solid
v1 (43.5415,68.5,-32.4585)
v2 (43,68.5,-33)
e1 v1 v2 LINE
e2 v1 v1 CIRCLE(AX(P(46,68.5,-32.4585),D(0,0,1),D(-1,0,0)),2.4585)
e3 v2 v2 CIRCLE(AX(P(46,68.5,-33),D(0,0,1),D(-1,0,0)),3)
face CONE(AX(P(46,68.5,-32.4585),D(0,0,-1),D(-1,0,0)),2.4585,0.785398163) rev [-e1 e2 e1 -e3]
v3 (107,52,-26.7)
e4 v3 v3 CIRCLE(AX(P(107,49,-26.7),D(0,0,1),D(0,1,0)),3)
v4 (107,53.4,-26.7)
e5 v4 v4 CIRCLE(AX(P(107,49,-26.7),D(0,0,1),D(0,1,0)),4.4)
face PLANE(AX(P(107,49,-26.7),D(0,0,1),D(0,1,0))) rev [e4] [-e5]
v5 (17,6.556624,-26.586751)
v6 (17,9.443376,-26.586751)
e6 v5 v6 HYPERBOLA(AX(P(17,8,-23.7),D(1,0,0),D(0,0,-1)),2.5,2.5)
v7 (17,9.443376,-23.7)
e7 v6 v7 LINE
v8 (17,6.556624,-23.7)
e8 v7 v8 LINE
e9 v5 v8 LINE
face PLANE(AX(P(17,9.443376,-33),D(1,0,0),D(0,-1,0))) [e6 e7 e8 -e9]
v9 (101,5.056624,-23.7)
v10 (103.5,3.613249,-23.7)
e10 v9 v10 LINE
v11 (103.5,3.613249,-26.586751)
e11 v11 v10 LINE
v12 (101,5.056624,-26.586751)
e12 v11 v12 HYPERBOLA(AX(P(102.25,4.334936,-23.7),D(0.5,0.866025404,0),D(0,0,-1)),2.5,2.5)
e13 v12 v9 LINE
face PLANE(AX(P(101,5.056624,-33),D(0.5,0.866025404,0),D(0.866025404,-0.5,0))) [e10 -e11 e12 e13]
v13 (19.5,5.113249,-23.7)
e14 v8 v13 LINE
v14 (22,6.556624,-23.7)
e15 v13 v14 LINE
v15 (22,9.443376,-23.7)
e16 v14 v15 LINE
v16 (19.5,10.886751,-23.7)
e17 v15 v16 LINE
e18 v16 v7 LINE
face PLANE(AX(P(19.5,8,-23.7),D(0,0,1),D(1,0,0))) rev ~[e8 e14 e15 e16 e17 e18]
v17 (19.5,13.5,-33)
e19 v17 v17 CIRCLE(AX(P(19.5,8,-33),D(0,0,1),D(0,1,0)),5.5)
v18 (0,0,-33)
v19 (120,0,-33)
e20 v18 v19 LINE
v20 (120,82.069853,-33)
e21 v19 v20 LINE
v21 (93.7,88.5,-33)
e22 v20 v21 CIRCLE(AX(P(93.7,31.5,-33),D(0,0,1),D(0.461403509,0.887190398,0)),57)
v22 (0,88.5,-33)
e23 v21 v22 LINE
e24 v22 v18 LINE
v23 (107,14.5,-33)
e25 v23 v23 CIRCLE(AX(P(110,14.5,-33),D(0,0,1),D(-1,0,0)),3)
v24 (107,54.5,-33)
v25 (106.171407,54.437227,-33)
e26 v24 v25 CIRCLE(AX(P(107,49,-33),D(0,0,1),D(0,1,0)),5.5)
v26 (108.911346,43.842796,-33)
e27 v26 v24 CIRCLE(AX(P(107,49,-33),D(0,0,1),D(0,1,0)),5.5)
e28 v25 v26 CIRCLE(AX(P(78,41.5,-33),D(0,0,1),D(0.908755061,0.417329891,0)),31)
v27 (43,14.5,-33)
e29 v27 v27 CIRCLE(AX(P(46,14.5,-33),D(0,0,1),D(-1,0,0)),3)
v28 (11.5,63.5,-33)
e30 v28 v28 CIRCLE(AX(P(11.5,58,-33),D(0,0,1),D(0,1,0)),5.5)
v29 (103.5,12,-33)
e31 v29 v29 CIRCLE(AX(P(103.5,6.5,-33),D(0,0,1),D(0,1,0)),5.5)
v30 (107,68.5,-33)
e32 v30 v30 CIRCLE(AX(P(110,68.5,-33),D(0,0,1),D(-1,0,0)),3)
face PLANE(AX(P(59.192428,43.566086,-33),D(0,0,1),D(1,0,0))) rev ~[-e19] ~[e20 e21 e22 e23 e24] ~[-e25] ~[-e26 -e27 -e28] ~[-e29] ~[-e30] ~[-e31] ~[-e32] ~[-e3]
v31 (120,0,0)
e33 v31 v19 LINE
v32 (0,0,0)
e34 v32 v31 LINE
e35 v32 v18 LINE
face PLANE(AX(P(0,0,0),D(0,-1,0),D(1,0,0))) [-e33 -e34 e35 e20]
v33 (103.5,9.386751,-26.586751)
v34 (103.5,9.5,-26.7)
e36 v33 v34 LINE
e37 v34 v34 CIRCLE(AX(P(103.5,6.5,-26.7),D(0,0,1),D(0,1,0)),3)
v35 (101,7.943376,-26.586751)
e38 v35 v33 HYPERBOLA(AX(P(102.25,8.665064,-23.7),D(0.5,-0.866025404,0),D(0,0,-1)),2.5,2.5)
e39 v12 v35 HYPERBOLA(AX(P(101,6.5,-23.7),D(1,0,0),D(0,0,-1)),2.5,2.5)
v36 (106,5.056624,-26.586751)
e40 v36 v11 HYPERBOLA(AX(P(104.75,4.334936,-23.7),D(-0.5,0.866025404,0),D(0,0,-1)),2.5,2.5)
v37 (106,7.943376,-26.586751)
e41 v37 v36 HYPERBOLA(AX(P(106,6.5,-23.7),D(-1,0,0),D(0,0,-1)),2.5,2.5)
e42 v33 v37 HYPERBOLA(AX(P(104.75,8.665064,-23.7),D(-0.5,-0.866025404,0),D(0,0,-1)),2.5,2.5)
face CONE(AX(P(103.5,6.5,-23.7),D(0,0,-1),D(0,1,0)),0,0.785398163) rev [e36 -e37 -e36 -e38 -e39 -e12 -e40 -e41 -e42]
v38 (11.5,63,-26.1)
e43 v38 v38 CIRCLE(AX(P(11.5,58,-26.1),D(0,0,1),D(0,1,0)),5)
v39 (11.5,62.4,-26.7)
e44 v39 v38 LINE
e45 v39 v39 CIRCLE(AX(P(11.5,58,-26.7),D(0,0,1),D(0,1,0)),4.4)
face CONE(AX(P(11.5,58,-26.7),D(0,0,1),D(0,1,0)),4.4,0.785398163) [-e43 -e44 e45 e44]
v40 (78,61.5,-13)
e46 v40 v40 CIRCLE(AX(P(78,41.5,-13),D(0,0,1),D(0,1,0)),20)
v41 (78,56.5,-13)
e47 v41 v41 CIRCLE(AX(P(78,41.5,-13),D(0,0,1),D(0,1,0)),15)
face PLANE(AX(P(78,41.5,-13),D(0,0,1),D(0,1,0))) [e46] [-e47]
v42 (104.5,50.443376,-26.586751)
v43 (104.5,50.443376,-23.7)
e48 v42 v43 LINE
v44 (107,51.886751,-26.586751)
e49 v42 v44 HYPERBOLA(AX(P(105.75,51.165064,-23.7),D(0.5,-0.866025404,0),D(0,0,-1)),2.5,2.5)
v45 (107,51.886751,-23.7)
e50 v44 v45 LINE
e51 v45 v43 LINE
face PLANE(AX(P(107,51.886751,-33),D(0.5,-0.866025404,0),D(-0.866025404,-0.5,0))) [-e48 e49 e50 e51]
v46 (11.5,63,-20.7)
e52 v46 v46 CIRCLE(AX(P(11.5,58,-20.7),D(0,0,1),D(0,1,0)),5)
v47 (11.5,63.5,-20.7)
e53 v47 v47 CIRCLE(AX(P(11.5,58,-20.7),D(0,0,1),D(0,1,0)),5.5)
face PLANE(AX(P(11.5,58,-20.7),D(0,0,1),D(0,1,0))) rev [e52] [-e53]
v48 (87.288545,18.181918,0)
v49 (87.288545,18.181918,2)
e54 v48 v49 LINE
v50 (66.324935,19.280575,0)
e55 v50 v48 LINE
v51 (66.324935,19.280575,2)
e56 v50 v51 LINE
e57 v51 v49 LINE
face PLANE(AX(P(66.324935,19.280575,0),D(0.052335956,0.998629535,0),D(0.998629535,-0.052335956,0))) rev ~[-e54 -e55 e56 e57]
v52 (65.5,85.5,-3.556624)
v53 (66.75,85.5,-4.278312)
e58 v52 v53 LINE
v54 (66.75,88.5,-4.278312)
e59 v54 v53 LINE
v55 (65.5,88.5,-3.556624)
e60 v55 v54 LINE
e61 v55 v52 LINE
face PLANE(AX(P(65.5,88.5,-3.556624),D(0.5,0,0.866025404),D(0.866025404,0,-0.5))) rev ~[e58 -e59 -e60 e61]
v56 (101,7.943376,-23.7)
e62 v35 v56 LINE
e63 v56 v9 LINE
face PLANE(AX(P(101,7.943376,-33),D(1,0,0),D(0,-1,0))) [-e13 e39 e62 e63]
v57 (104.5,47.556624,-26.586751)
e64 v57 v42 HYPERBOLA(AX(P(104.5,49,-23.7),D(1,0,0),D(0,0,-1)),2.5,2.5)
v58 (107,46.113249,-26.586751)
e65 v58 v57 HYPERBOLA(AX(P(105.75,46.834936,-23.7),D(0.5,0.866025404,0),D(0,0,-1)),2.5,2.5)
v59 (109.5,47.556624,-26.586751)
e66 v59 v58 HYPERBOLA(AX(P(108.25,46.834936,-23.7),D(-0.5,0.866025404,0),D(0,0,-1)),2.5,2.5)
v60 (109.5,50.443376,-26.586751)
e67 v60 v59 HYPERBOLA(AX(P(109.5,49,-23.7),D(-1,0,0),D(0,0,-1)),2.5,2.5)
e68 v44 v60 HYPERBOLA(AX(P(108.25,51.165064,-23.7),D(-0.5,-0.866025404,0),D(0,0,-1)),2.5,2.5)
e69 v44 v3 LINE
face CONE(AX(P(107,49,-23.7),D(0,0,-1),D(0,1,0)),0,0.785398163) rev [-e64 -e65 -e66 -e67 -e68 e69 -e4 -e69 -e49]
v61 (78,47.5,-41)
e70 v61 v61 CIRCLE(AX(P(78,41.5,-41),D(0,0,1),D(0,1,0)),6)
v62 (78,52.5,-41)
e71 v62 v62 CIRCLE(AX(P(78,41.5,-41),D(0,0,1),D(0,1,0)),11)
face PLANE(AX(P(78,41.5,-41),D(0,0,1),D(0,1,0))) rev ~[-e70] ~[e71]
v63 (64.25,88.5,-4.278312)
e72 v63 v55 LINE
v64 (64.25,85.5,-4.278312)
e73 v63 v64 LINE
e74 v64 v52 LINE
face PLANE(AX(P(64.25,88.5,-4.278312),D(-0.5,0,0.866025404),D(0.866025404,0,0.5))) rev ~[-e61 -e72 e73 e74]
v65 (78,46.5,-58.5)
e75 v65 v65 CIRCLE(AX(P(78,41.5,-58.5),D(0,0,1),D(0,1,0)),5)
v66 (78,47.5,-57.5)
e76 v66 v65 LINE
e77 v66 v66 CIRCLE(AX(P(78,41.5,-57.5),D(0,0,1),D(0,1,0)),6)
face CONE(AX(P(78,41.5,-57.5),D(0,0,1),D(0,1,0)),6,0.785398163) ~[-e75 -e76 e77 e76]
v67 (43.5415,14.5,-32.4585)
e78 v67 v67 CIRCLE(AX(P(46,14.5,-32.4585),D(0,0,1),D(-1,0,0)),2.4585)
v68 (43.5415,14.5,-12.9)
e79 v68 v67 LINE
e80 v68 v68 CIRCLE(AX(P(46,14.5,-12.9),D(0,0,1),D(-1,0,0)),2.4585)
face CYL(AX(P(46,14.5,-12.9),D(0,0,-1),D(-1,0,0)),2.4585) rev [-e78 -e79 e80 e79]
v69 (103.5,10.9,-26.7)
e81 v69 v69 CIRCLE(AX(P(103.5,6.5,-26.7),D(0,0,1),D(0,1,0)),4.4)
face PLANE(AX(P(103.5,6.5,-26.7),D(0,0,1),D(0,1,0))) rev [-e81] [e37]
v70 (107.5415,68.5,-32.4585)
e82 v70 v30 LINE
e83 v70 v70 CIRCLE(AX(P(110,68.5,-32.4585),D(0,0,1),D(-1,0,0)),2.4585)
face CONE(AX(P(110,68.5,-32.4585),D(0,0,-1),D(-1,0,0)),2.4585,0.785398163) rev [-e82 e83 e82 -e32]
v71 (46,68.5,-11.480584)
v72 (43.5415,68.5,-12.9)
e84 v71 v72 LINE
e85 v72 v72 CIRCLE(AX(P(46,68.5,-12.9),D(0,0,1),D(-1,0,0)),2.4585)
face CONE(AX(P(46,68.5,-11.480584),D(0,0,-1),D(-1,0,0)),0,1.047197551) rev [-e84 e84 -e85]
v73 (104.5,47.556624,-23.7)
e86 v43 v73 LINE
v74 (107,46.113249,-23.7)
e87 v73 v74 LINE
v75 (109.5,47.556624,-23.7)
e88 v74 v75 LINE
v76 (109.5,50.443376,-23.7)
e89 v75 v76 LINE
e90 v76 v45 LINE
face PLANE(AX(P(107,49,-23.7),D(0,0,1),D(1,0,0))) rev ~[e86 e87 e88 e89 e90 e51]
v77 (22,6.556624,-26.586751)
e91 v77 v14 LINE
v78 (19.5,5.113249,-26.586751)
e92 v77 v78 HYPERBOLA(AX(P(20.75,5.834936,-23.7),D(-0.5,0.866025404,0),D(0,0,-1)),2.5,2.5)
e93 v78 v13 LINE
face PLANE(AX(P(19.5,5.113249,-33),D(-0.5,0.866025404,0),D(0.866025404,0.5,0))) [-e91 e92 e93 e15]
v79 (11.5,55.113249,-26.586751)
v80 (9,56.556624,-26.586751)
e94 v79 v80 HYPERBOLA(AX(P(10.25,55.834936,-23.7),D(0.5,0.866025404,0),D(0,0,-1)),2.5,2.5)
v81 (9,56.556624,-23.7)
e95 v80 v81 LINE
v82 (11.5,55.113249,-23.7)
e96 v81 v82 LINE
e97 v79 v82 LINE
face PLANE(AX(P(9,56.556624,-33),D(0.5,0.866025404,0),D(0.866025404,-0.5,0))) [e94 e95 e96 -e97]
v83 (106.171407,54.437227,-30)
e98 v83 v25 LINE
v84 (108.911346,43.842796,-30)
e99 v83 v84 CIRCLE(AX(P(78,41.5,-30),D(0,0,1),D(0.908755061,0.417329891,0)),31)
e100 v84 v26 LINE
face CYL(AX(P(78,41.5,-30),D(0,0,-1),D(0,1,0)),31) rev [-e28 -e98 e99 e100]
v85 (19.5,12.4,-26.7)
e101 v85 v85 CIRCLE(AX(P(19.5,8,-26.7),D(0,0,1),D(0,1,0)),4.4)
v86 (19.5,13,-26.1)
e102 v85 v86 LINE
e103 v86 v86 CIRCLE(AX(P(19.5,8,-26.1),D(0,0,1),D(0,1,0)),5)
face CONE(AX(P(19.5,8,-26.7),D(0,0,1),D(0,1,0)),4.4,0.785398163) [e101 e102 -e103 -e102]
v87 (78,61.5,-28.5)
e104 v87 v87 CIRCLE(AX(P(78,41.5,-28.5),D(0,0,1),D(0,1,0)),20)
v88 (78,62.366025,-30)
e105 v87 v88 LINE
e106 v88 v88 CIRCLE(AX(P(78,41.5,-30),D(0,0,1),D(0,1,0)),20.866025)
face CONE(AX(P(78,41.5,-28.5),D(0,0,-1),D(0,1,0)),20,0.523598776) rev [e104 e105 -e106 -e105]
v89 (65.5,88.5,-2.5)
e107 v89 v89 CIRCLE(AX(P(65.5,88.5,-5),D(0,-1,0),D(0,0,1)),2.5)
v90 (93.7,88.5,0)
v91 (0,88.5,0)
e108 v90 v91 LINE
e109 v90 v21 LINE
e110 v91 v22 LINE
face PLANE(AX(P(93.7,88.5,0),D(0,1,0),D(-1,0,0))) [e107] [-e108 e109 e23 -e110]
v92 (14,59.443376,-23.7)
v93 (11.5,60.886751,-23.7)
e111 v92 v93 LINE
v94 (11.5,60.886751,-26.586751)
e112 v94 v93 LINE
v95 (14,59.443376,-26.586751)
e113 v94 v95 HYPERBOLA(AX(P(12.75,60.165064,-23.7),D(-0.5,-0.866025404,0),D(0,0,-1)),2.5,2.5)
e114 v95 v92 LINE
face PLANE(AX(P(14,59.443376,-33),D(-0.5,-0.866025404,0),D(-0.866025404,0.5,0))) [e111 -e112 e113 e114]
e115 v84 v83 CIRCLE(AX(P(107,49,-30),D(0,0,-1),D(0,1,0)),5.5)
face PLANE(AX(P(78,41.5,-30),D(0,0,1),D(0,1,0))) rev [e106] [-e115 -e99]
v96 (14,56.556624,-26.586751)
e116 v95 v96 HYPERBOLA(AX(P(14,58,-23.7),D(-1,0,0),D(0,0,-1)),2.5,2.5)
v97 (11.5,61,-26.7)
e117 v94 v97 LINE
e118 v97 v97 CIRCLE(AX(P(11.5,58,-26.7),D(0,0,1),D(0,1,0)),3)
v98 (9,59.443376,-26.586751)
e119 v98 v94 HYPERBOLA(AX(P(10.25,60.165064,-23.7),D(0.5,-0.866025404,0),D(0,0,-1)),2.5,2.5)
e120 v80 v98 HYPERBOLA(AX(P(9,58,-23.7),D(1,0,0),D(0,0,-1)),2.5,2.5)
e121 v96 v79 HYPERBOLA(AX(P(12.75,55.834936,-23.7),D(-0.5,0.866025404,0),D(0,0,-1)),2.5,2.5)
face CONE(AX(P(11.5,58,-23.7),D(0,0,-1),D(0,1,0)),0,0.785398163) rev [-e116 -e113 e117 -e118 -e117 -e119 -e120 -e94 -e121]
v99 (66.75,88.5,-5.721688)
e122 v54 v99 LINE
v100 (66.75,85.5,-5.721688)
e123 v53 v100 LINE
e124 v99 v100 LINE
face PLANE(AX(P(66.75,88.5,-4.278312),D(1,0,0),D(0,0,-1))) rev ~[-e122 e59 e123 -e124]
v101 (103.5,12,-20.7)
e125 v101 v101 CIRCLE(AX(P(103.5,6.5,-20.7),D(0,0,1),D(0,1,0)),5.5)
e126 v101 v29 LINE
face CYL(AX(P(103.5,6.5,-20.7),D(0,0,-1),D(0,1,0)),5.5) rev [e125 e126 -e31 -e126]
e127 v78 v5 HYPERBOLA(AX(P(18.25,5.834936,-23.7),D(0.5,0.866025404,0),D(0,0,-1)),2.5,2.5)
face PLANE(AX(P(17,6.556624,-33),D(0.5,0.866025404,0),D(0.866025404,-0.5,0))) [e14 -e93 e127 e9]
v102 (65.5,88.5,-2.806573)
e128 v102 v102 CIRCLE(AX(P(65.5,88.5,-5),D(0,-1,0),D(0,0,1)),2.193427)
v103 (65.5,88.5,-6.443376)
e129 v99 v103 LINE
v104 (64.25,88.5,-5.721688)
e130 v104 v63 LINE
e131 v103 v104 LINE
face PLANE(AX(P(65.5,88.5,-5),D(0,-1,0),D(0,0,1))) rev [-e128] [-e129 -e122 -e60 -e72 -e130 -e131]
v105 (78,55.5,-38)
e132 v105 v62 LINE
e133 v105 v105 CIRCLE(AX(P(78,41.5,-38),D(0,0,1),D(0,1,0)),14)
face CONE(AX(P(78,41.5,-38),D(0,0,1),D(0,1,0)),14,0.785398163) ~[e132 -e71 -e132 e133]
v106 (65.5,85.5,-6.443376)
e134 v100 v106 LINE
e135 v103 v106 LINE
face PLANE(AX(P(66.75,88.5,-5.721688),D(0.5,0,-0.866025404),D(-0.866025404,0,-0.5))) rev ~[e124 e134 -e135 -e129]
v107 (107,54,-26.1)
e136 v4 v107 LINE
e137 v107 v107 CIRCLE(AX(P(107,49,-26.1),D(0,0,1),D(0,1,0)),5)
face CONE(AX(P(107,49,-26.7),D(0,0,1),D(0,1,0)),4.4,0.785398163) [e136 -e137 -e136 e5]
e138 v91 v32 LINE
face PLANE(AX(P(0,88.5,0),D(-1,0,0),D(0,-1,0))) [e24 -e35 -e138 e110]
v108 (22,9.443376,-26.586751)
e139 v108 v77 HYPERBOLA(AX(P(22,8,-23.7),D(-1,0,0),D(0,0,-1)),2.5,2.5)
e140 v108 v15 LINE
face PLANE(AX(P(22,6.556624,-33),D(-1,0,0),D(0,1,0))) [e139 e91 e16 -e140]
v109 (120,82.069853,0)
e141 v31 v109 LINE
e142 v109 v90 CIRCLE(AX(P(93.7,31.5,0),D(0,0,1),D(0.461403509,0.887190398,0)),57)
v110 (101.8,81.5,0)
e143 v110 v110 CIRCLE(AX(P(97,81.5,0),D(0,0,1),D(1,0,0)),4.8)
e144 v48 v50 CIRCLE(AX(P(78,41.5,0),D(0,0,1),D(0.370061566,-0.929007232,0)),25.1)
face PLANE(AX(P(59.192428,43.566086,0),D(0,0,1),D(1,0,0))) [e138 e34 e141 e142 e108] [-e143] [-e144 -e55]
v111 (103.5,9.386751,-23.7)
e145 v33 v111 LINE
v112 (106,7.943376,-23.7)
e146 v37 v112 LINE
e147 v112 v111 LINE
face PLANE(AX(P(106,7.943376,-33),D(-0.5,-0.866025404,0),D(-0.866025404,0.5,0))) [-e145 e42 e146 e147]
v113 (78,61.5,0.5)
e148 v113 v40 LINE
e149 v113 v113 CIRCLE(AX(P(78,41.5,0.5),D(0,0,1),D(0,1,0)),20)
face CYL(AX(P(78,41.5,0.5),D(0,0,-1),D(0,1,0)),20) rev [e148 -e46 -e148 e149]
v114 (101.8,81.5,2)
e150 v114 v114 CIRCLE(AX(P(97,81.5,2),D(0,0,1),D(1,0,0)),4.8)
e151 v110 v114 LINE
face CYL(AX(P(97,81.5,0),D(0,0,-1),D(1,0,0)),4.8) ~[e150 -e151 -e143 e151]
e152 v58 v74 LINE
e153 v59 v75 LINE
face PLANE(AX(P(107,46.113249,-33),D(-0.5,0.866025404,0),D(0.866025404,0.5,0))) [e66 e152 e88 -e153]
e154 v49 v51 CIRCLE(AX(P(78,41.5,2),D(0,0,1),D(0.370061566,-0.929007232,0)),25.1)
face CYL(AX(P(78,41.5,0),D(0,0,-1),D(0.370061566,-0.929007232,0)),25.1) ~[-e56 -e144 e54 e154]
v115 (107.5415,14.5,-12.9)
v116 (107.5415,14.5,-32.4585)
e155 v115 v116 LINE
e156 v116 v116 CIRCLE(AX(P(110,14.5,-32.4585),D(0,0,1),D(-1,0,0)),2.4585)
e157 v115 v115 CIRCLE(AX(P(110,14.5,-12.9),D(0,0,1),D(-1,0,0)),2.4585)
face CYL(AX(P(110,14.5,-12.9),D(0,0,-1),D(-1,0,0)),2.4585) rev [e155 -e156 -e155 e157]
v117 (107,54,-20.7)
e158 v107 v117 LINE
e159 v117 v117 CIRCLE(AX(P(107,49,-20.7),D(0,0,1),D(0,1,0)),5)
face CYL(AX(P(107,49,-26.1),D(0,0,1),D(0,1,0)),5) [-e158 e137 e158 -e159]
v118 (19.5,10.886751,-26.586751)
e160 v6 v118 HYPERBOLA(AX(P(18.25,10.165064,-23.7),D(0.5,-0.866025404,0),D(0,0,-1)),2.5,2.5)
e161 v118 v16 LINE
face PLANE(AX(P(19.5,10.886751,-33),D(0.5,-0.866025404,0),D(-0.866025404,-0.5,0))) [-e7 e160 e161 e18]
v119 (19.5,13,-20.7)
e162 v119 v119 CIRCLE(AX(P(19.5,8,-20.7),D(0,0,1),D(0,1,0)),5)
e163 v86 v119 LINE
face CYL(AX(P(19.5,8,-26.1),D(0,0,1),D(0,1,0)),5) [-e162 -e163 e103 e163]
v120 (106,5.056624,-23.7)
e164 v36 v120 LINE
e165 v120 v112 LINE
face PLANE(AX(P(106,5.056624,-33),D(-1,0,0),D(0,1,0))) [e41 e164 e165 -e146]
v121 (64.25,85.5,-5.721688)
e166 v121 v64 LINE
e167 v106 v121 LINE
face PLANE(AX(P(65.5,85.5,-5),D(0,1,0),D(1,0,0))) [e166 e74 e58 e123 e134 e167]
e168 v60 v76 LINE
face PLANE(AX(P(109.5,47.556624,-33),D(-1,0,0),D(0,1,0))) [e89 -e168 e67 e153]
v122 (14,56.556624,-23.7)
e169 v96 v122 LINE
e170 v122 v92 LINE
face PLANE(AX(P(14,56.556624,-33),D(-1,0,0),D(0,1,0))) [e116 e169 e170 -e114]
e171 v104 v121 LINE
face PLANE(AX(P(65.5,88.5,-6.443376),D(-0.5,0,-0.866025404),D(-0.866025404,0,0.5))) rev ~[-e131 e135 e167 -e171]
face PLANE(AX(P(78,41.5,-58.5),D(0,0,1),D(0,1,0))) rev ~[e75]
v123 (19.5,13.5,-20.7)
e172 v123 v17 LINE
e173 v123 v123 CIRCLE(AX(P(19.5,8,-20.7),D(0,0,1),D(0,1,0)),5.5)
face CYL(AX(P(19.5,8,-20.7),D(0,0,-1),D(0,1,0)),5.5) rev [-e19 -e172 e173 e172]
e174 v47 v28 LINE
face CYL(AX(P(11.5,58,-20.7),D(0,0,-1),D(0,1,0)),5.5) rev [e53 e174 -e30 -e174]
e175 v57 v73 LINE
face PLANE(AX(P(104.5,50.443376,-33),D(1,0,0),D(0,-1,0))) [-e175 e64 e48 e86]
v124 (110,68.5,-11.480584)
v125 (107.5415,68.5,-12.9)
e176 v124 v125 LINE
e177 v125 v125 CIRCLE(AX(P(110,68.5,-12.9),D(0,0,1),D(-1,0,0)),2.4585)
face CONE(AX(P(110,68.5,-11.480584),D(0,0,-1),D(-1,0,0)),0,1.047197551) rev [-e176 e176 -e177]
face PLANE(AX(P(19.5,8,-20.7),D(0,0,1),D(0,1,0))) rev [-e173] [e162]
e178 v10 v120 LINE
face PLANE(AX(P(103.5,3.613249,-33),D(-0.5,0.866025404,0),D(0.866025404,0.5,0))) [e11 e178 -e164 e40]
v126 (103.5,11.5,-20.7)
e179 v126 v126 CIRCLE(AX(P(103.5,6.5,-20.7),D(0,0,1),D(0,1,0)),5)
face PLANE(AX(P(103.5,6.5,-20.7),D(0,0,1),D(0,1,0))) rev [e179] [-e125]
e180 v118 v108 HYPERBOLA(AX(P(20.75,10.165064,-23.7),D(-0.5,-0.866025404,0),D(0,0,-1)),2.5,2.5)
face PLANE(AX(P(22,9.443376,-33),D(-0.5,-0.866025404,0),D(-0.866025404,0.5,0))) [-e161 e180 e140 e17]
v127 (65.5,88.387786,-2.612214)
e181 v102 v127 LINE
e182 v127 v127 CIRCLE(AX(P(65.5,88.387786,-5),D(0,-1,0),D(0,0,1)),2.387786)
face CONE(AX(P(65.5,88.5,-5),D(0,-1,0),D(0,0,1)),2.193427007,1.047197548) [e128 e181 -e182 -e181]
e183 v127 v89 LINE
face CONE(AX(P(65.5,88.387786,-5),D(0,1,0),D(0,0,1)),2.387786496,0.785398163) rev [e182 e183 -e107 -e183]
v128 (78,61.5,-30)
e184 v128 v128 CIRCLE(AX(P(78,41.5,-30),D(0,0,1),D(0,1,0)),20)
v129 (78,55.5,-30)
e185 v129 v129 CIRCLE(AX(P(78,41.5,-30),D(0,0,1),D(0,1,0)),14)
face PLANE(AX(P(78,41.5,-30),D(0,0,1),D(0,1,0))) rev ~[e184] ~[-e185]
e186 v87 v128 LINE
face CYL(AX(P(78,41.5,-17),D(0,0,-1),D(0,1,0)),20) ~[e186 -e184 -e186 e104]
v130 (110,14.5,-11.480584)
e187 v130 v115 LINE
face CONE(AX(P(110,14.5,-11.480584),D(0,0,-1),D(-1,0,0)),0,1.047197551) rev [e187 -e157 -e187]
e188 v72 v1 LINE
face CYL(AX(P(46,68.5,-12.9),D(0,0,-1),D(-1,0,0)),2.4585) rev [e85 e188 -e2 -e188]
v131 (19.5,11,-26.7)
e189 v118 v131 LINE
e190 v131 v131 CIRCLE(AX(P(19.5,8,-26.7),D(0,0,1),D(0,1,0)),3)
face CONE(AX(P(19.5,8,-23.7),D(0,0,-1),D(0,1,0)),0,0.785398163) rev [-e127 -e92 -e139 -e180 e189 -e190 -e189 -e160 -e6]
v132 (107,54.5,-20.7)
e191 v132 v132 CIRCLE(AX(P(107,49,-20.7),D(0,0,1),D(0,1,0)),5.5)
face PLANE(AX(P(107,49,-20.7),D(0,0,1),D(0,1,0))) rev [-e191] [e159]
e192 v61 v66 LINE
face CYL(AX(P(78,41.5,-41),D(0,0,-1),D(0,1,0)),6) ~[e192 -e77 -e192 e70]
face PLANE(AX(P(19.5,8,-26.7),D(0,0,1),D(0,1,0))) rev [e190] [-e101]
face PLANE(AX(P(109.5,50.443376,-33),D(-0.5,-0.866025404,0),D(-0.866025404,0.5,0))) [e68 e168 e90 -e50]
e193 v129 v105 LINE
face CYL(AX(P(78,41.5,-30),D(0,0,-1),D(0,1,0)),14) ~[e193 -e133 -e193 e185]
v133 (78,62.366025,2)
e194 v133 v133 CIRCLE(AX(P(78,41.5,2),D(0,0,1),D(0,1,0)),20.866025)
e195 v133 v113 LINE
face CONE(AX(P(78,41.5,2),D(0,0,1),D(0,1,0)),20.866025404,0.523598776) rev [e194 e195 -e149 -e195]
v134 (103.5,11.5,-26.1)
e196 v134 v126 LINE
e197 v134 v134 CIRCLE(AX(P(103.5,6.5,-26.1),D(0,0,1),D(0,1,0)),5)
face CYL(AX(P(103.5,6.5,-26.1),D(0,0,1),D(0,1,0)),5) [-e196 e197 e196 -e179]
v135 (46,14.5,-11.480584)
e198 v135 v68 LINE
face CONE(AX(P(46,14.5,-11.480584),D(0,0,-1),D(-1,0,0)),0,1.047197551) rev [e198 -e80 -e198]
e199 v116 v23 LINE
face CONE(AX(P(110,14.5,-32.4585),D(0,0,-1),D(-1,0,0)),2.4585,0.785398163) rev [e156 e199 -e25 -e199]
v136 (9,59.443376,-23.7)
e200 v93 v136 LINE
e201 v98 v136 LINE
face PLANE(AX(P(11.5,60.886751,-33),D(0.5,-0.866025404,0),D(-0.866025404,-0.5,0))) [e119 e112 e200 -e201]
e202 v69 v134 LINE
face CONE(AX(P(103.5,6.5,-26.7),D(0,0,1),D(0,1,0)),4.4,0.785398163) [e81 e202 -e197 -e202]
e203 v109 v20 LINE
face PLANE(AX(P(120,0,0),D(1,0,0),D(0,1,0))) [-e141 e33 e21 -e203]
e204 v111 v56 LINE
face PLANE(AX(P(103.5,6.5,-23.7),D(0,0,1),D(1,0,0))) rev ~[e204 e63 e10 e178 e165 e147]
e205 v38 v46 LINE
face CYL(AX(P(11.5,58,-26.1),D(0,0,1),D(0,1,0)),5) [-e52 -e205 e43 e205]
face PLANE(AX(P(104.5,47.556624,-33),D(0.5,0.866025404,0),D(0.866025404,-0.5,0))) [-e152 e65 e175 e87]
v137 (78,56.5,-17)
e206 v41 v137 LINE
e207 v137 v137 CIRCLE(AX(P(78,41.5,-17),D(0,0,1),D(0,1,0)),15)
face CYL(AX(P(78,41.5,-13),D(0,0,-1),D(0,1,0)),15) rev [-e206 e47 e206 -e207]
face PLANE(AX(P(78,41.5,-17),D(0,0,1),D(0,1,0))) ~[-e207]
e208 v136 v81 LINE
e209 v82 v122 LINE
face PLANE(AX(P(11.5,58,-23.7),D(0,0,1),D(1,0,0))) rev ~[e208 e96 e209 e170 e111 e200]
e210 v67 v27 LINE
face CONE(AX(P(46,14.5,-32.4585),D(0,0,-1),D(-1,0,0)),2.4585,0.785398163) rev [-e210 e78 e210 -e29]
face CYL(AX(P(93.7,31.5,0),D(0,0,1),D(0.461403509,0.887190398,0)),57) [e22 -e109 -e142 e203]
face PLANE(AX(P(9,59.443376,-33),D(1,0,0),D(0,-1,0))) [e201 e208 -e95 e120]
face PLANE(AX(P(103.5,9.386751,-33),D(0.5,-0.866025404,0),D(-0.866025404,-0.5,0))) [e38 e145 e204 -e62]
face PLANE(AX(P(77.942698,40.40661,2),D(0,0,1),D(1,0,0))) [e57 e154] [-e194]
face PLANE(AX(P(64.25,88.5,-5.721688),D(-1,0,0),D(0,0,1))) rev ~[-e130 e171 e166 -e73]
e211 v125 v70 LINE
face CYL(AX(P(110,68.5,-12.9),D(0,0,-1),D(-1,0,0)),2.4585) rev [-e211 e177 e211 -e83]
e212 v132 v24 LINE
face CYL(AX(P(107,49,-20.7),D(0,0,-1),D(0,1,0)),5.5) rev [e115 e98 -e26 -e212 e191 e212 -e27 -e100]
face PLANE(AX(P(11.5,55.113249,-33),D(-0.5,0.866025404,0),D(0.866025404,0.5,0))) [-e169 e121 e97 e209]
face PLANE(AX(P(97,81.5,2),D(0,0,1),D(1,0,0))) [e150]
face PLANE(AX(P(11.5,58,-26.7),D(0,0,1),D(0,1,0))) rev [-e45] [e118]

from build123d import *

# Parameters (mm, degrees)
BOSS_EXTRUDE1_DEPTH = 33
BOSS_EXTRUDE2_DEPTH = 2
CUT_EXTRUDE1_DEPTH  = 9.3
CUT_EXTRUDE2_DEPTH  = 9.3
CUT_EXTRUDE3_DEPTH  = 9.3
CUT_EXTRUDE4_DEPTH  = 9.3
SKETCH16_R          = 4.8
BOSS_EXTRUDE3_DEPTH = 2
CUT_EXTRUDE5_DEPTH  = 3


with BuildPart() as part:
    # Sketch1 → Boss-Extrude1 (new body)
    with BuildSketch(Plane.XY):
        with BuildLine():
            Line((0, 0), (120, 0))
            Line((120, 0), (120, 82.069852679))
            ThreePointArc((120, 82.069852679), (107.237326126, 86.869132207), (93.7, 88.5))
            Line((93.7, 88.5), (0, 88.5))
            Line((0, 88.5), (0, 0))
        make_face()
    extrude(amount=-BOSS_EXTRUDE1_DEPTH)

    # Sketch2 → Boss-Extrude2 (add)
    with BuildSketch(Plane.XY):
        with BuildLine():
            Line((66.324935076, 19.280574737), (87.288545319, 18.181918478))
            ThreePointArc((87.288545319, 18.181918478), (79.313632502, 66.565601322), (66.324935076, 19.280574737))
        make_face()
    extrude(amount=BOSS_EXTRUDE2_DEPTH)

    # Sketch3 → Cut-Revolve1 (revolve, cut)
    with BuildSketch(Plane(origin=(78, 0, 0), x_dir=(0, 0, -1), z_dir=(1, 0, 0))):
        Polygon((-2, 41.5), (-2, 62.366025404), (-0.5, 61.5), (13, 61.5), (13, 56.5), (17, 56.5), (17, 61.5), (28.5, 61.5), (30, 62.366025404), (30, 72.5), (33, 72.5), (33, 41.5), align=None)
    revolve(axis=Axis((78, 41.5, -33), (0, 0, 1)), mode=Mode.SUBTRACT)

    # Sketch4 → Cut-Revolve2 (revolve, cut)
    with BuildSketch(Plane(origin=(19.5, 0, 0), x_dir=(0, 0, -1), z_dir=(1, 0, 0))):
        Polygon((23.7, 8), (26.7, 11), (26.7, 12.4), (26.1, 13), (20.7, 13), (20.7, 13.5), (33, 13.5), (33, 8), align=None)
    revolve(axis=Axis((19.5, 8, -33), (0, 0, 1)), mode=Mode.SUBTRACT)

    # Sketch5 → Cut-Revolve3 (revolve, cut)
    with BuildSketch(Plane(origin=(103.5, 0, 0), x_dir=(0, 0, -1), z_dir=(1, 0, 0))):
        Polygon((23.7, 6.5), (26.7, 9.5), (26.7, 10.9), (26.1, 11.5), (20.7, 11.5), (20.7, 12), (33, 12), (33, 6.5), align=None)
    revolve(axis=Axis((103.5, 6.5, -33), (0, 0, 1)), mode=Mode.SUBTRACT)

    # Sketch6 → Cut-Revolve4 (revolve, cut)
    with BuildSketch(Plane(origin=(11.5, 0, 0), x_dir=(0, 0, -1), z_dir=(1, 0, 0))):
        Polygon((23.7, 58), (26.7, 61), (26.7, 62.4), (26.1, 63), (20.7, 63), (20.7, 63.5), (33, 63.5), (33, 58), align=None)
    revolve(axis=Axis((11.5, 58, -33), (0, 0, 1)), mode=Mode.SUBTRACT)

    # Sketch7 → Cut-Revolve5 (revolve, cut)
    with BuildSketch(Plane(origin=(107, 0, 0), x_dir=(0, 0, -1), z_dir=(1, 0, 0))):
        Polygon((23.7, 49), (26.7, 52), (26.7, 53.4), (26.1, 54), (20.7, 54), (20.7, 54.5), (33, 54.5), (33, 49), align=None)
    revolve(axis=Axis((107, 49, -33), (0, 0, 1)), mode=Mode.SUBTRACT)

    # Sketch8 → Cut-Extrude1 (cut)
    with BuildSketch(Plane.XY.offset(-33)):
        Polygon((17, 9.443375673), (17, 6.556624327), (19.5, 5.113248654), (22, 6.556624327), (22, 9.443375673), (19.5, 10.886751346), align=None)
    extrude(amount=CUT_EXTRUDE1_DEPTH, mode=Mode.SUBTRACT)

    # Sketch9 → Cut-Extrude2 (cut)
    with BuildSketch(Plane.XY.offset(-33)):
        Polygon((101, 7.943375673), (101, 5.056624327), (103.5, 3.613248654), (106, 5.056624327), (106, 7.943375673), (103.5, 9.386751346), align=None)
    extrude(amount=CUT_EXTRUDE2_DEPTH, mode=Mode.SUBTRACT)

    # Sketch10 → Cut-Extrude3 (cut)
    with BuildSketch(Plane.XY.offset(-33)):
        Polygon((9, 59.443375673), (9, 56.556624327), (11.5, 55.113248654), (14, 56.556624327), (14, 59.443375673), (11.5, 60.886751346), align=None)
    extrude(amount=CUT_EXTRUDE3_DEPTH, mode=Mode.SUBTRACT)

    # Sketch11 → Cut-Extrude4 (cut)
    with BuildSketch(Plane.XY.offset(-33)):
        Polygon((104.5, 50.443375673), (104.5, 47.556624327), (107, 46.113248654), (109.5, 47.556624327), (109.5, 50.443375673), (107, 51.886751346), align=None)
    extrude(amount=CUT_EXTRUDE4_DEPTH, mode=Mode.SUBTRACT)

    # Sketch12 → Cut-Revolve6 (revolve, cut)
    with BuildSketch(Plane(origin=(0, 14.5, 0), x_dir=(1, 0, 0), z_dir=(0, 1, 0))):
        Polygon((46, 11.480584363), (43.5415, 12.9), (43.5415, 32.4585), (43, 33), (46, 33), align=None)
    revolve(axis=Axis((46, 14.5, -33), (0, 0, 1)), mode=Mode.SUBTRACT)

    # Sketch13 → Cut-Revolve7 (revolve, cut)
    with BuildSketch(Plane(origin=(0, 14.5, 0), x_dir=(1, 0, 0), z_dir=(0, 1, 0))):
        Polygon((110, 11.480584363), (107.5415, 12.9), (107.5415, 32.4585), (107, 33), (110, 33), align=None)
    revolve(axis=Axis((110, 14.5, -33), (0, 0, 1)), mode=Mode.SUBTRACT)

    # Sketch14 → Cut-Revolve8 (revolve, cut)
    with BuildSketch(Plane(origin=(0, 68.5, 0), x_dir=(1, 0, 0), z_dir=(0, 1, 0))):
        Polygon((46, 11.480584363), (43.5415, 12.9), (43.5415, 32.4585), (43, 33), (46, 33), align=None)
    revolve(axis=Axis((46, 68.5, -33), (0, 0, 1)), mode=Mode.SUBTRACT)

    # Sketch15 → Cut-Revolve9 (revolve, cut)
    with BuildSketch(Plane(origin=(0, 68.5, 0), x_dir=(1, 0, 0), z_dir=(0, 1, 0))):
        Polygon((110, 11.480584363), (107.5415, 12.9), (107.5415, 32.4585), (107, 33), (110, 33), align=None)
    revolve(axis=Axis((110, 68.5, -33), (0, 0, 1)), mode=Mode.SUBTRACT)

    # Sketch16 → Boss-Extrude3 (add)
    with BuildSketch(Plane.XY):
        with Locations((97, 81.5)):
            Circle(SKETCH16_R)
    extrude(amount=BOSS_EXTRUDE3_DEPTH)

    # Sketch17 → Cut-Revolve10 (revolve, cut)
    with BuildSketch(Plane(origin=(65.5, 0, 0), x_dir=(0, 0, -1), z_dir=(1, 0, 0))):
        Polygon((5, 88.5), (2.806572993, 88.5), (2.612213504, 88.387786496), (2.5, 88.5), (2.5, 89.5), (5, 89.5), align=None)
    revolve(axis=Axis((65.5, 89.5, -5), (0, -1, 0)), mode=Mode.SUBTRACT)

    # Sketch18 → Revolve1 (revolve)
    with BuildSketch(Plane(origin=(78, 0, 0), x_dir=(0, 0, -1), z_dir=(1, 0, 0))):
        Polygon((17, 41.5), (17, 61.5), (30, 61.5), (30, 55.5), (38, 55.5), (41, 52.5), (41, 47.5), (57.5, 47.5), (58.5, 46.5), (58.5, 41.5), align=None)
    revolve(axis=Axis((78, 41.5, -58.5), (0, 0, 1)))

    # Sketch19 → Cut-Extrude5 (cut)
    with BuildSketch(Plane(origin=(0, 88.5, 0), x_dir=(1, 0, 0), z_dir=(0, 1, 0))):
        Polygon((64.25, 5.721687836), (64.25, 4.278312164), (65.5, 3.556624327), (66.75, 4.278312164), (66.75, 5.721687836), (65.5, 6.443375673), align=None)
    extrude(amount=-CUT_EXTRUDE5_DEPTH, mode=Mode.SUBTRACT)


solid = part.part
